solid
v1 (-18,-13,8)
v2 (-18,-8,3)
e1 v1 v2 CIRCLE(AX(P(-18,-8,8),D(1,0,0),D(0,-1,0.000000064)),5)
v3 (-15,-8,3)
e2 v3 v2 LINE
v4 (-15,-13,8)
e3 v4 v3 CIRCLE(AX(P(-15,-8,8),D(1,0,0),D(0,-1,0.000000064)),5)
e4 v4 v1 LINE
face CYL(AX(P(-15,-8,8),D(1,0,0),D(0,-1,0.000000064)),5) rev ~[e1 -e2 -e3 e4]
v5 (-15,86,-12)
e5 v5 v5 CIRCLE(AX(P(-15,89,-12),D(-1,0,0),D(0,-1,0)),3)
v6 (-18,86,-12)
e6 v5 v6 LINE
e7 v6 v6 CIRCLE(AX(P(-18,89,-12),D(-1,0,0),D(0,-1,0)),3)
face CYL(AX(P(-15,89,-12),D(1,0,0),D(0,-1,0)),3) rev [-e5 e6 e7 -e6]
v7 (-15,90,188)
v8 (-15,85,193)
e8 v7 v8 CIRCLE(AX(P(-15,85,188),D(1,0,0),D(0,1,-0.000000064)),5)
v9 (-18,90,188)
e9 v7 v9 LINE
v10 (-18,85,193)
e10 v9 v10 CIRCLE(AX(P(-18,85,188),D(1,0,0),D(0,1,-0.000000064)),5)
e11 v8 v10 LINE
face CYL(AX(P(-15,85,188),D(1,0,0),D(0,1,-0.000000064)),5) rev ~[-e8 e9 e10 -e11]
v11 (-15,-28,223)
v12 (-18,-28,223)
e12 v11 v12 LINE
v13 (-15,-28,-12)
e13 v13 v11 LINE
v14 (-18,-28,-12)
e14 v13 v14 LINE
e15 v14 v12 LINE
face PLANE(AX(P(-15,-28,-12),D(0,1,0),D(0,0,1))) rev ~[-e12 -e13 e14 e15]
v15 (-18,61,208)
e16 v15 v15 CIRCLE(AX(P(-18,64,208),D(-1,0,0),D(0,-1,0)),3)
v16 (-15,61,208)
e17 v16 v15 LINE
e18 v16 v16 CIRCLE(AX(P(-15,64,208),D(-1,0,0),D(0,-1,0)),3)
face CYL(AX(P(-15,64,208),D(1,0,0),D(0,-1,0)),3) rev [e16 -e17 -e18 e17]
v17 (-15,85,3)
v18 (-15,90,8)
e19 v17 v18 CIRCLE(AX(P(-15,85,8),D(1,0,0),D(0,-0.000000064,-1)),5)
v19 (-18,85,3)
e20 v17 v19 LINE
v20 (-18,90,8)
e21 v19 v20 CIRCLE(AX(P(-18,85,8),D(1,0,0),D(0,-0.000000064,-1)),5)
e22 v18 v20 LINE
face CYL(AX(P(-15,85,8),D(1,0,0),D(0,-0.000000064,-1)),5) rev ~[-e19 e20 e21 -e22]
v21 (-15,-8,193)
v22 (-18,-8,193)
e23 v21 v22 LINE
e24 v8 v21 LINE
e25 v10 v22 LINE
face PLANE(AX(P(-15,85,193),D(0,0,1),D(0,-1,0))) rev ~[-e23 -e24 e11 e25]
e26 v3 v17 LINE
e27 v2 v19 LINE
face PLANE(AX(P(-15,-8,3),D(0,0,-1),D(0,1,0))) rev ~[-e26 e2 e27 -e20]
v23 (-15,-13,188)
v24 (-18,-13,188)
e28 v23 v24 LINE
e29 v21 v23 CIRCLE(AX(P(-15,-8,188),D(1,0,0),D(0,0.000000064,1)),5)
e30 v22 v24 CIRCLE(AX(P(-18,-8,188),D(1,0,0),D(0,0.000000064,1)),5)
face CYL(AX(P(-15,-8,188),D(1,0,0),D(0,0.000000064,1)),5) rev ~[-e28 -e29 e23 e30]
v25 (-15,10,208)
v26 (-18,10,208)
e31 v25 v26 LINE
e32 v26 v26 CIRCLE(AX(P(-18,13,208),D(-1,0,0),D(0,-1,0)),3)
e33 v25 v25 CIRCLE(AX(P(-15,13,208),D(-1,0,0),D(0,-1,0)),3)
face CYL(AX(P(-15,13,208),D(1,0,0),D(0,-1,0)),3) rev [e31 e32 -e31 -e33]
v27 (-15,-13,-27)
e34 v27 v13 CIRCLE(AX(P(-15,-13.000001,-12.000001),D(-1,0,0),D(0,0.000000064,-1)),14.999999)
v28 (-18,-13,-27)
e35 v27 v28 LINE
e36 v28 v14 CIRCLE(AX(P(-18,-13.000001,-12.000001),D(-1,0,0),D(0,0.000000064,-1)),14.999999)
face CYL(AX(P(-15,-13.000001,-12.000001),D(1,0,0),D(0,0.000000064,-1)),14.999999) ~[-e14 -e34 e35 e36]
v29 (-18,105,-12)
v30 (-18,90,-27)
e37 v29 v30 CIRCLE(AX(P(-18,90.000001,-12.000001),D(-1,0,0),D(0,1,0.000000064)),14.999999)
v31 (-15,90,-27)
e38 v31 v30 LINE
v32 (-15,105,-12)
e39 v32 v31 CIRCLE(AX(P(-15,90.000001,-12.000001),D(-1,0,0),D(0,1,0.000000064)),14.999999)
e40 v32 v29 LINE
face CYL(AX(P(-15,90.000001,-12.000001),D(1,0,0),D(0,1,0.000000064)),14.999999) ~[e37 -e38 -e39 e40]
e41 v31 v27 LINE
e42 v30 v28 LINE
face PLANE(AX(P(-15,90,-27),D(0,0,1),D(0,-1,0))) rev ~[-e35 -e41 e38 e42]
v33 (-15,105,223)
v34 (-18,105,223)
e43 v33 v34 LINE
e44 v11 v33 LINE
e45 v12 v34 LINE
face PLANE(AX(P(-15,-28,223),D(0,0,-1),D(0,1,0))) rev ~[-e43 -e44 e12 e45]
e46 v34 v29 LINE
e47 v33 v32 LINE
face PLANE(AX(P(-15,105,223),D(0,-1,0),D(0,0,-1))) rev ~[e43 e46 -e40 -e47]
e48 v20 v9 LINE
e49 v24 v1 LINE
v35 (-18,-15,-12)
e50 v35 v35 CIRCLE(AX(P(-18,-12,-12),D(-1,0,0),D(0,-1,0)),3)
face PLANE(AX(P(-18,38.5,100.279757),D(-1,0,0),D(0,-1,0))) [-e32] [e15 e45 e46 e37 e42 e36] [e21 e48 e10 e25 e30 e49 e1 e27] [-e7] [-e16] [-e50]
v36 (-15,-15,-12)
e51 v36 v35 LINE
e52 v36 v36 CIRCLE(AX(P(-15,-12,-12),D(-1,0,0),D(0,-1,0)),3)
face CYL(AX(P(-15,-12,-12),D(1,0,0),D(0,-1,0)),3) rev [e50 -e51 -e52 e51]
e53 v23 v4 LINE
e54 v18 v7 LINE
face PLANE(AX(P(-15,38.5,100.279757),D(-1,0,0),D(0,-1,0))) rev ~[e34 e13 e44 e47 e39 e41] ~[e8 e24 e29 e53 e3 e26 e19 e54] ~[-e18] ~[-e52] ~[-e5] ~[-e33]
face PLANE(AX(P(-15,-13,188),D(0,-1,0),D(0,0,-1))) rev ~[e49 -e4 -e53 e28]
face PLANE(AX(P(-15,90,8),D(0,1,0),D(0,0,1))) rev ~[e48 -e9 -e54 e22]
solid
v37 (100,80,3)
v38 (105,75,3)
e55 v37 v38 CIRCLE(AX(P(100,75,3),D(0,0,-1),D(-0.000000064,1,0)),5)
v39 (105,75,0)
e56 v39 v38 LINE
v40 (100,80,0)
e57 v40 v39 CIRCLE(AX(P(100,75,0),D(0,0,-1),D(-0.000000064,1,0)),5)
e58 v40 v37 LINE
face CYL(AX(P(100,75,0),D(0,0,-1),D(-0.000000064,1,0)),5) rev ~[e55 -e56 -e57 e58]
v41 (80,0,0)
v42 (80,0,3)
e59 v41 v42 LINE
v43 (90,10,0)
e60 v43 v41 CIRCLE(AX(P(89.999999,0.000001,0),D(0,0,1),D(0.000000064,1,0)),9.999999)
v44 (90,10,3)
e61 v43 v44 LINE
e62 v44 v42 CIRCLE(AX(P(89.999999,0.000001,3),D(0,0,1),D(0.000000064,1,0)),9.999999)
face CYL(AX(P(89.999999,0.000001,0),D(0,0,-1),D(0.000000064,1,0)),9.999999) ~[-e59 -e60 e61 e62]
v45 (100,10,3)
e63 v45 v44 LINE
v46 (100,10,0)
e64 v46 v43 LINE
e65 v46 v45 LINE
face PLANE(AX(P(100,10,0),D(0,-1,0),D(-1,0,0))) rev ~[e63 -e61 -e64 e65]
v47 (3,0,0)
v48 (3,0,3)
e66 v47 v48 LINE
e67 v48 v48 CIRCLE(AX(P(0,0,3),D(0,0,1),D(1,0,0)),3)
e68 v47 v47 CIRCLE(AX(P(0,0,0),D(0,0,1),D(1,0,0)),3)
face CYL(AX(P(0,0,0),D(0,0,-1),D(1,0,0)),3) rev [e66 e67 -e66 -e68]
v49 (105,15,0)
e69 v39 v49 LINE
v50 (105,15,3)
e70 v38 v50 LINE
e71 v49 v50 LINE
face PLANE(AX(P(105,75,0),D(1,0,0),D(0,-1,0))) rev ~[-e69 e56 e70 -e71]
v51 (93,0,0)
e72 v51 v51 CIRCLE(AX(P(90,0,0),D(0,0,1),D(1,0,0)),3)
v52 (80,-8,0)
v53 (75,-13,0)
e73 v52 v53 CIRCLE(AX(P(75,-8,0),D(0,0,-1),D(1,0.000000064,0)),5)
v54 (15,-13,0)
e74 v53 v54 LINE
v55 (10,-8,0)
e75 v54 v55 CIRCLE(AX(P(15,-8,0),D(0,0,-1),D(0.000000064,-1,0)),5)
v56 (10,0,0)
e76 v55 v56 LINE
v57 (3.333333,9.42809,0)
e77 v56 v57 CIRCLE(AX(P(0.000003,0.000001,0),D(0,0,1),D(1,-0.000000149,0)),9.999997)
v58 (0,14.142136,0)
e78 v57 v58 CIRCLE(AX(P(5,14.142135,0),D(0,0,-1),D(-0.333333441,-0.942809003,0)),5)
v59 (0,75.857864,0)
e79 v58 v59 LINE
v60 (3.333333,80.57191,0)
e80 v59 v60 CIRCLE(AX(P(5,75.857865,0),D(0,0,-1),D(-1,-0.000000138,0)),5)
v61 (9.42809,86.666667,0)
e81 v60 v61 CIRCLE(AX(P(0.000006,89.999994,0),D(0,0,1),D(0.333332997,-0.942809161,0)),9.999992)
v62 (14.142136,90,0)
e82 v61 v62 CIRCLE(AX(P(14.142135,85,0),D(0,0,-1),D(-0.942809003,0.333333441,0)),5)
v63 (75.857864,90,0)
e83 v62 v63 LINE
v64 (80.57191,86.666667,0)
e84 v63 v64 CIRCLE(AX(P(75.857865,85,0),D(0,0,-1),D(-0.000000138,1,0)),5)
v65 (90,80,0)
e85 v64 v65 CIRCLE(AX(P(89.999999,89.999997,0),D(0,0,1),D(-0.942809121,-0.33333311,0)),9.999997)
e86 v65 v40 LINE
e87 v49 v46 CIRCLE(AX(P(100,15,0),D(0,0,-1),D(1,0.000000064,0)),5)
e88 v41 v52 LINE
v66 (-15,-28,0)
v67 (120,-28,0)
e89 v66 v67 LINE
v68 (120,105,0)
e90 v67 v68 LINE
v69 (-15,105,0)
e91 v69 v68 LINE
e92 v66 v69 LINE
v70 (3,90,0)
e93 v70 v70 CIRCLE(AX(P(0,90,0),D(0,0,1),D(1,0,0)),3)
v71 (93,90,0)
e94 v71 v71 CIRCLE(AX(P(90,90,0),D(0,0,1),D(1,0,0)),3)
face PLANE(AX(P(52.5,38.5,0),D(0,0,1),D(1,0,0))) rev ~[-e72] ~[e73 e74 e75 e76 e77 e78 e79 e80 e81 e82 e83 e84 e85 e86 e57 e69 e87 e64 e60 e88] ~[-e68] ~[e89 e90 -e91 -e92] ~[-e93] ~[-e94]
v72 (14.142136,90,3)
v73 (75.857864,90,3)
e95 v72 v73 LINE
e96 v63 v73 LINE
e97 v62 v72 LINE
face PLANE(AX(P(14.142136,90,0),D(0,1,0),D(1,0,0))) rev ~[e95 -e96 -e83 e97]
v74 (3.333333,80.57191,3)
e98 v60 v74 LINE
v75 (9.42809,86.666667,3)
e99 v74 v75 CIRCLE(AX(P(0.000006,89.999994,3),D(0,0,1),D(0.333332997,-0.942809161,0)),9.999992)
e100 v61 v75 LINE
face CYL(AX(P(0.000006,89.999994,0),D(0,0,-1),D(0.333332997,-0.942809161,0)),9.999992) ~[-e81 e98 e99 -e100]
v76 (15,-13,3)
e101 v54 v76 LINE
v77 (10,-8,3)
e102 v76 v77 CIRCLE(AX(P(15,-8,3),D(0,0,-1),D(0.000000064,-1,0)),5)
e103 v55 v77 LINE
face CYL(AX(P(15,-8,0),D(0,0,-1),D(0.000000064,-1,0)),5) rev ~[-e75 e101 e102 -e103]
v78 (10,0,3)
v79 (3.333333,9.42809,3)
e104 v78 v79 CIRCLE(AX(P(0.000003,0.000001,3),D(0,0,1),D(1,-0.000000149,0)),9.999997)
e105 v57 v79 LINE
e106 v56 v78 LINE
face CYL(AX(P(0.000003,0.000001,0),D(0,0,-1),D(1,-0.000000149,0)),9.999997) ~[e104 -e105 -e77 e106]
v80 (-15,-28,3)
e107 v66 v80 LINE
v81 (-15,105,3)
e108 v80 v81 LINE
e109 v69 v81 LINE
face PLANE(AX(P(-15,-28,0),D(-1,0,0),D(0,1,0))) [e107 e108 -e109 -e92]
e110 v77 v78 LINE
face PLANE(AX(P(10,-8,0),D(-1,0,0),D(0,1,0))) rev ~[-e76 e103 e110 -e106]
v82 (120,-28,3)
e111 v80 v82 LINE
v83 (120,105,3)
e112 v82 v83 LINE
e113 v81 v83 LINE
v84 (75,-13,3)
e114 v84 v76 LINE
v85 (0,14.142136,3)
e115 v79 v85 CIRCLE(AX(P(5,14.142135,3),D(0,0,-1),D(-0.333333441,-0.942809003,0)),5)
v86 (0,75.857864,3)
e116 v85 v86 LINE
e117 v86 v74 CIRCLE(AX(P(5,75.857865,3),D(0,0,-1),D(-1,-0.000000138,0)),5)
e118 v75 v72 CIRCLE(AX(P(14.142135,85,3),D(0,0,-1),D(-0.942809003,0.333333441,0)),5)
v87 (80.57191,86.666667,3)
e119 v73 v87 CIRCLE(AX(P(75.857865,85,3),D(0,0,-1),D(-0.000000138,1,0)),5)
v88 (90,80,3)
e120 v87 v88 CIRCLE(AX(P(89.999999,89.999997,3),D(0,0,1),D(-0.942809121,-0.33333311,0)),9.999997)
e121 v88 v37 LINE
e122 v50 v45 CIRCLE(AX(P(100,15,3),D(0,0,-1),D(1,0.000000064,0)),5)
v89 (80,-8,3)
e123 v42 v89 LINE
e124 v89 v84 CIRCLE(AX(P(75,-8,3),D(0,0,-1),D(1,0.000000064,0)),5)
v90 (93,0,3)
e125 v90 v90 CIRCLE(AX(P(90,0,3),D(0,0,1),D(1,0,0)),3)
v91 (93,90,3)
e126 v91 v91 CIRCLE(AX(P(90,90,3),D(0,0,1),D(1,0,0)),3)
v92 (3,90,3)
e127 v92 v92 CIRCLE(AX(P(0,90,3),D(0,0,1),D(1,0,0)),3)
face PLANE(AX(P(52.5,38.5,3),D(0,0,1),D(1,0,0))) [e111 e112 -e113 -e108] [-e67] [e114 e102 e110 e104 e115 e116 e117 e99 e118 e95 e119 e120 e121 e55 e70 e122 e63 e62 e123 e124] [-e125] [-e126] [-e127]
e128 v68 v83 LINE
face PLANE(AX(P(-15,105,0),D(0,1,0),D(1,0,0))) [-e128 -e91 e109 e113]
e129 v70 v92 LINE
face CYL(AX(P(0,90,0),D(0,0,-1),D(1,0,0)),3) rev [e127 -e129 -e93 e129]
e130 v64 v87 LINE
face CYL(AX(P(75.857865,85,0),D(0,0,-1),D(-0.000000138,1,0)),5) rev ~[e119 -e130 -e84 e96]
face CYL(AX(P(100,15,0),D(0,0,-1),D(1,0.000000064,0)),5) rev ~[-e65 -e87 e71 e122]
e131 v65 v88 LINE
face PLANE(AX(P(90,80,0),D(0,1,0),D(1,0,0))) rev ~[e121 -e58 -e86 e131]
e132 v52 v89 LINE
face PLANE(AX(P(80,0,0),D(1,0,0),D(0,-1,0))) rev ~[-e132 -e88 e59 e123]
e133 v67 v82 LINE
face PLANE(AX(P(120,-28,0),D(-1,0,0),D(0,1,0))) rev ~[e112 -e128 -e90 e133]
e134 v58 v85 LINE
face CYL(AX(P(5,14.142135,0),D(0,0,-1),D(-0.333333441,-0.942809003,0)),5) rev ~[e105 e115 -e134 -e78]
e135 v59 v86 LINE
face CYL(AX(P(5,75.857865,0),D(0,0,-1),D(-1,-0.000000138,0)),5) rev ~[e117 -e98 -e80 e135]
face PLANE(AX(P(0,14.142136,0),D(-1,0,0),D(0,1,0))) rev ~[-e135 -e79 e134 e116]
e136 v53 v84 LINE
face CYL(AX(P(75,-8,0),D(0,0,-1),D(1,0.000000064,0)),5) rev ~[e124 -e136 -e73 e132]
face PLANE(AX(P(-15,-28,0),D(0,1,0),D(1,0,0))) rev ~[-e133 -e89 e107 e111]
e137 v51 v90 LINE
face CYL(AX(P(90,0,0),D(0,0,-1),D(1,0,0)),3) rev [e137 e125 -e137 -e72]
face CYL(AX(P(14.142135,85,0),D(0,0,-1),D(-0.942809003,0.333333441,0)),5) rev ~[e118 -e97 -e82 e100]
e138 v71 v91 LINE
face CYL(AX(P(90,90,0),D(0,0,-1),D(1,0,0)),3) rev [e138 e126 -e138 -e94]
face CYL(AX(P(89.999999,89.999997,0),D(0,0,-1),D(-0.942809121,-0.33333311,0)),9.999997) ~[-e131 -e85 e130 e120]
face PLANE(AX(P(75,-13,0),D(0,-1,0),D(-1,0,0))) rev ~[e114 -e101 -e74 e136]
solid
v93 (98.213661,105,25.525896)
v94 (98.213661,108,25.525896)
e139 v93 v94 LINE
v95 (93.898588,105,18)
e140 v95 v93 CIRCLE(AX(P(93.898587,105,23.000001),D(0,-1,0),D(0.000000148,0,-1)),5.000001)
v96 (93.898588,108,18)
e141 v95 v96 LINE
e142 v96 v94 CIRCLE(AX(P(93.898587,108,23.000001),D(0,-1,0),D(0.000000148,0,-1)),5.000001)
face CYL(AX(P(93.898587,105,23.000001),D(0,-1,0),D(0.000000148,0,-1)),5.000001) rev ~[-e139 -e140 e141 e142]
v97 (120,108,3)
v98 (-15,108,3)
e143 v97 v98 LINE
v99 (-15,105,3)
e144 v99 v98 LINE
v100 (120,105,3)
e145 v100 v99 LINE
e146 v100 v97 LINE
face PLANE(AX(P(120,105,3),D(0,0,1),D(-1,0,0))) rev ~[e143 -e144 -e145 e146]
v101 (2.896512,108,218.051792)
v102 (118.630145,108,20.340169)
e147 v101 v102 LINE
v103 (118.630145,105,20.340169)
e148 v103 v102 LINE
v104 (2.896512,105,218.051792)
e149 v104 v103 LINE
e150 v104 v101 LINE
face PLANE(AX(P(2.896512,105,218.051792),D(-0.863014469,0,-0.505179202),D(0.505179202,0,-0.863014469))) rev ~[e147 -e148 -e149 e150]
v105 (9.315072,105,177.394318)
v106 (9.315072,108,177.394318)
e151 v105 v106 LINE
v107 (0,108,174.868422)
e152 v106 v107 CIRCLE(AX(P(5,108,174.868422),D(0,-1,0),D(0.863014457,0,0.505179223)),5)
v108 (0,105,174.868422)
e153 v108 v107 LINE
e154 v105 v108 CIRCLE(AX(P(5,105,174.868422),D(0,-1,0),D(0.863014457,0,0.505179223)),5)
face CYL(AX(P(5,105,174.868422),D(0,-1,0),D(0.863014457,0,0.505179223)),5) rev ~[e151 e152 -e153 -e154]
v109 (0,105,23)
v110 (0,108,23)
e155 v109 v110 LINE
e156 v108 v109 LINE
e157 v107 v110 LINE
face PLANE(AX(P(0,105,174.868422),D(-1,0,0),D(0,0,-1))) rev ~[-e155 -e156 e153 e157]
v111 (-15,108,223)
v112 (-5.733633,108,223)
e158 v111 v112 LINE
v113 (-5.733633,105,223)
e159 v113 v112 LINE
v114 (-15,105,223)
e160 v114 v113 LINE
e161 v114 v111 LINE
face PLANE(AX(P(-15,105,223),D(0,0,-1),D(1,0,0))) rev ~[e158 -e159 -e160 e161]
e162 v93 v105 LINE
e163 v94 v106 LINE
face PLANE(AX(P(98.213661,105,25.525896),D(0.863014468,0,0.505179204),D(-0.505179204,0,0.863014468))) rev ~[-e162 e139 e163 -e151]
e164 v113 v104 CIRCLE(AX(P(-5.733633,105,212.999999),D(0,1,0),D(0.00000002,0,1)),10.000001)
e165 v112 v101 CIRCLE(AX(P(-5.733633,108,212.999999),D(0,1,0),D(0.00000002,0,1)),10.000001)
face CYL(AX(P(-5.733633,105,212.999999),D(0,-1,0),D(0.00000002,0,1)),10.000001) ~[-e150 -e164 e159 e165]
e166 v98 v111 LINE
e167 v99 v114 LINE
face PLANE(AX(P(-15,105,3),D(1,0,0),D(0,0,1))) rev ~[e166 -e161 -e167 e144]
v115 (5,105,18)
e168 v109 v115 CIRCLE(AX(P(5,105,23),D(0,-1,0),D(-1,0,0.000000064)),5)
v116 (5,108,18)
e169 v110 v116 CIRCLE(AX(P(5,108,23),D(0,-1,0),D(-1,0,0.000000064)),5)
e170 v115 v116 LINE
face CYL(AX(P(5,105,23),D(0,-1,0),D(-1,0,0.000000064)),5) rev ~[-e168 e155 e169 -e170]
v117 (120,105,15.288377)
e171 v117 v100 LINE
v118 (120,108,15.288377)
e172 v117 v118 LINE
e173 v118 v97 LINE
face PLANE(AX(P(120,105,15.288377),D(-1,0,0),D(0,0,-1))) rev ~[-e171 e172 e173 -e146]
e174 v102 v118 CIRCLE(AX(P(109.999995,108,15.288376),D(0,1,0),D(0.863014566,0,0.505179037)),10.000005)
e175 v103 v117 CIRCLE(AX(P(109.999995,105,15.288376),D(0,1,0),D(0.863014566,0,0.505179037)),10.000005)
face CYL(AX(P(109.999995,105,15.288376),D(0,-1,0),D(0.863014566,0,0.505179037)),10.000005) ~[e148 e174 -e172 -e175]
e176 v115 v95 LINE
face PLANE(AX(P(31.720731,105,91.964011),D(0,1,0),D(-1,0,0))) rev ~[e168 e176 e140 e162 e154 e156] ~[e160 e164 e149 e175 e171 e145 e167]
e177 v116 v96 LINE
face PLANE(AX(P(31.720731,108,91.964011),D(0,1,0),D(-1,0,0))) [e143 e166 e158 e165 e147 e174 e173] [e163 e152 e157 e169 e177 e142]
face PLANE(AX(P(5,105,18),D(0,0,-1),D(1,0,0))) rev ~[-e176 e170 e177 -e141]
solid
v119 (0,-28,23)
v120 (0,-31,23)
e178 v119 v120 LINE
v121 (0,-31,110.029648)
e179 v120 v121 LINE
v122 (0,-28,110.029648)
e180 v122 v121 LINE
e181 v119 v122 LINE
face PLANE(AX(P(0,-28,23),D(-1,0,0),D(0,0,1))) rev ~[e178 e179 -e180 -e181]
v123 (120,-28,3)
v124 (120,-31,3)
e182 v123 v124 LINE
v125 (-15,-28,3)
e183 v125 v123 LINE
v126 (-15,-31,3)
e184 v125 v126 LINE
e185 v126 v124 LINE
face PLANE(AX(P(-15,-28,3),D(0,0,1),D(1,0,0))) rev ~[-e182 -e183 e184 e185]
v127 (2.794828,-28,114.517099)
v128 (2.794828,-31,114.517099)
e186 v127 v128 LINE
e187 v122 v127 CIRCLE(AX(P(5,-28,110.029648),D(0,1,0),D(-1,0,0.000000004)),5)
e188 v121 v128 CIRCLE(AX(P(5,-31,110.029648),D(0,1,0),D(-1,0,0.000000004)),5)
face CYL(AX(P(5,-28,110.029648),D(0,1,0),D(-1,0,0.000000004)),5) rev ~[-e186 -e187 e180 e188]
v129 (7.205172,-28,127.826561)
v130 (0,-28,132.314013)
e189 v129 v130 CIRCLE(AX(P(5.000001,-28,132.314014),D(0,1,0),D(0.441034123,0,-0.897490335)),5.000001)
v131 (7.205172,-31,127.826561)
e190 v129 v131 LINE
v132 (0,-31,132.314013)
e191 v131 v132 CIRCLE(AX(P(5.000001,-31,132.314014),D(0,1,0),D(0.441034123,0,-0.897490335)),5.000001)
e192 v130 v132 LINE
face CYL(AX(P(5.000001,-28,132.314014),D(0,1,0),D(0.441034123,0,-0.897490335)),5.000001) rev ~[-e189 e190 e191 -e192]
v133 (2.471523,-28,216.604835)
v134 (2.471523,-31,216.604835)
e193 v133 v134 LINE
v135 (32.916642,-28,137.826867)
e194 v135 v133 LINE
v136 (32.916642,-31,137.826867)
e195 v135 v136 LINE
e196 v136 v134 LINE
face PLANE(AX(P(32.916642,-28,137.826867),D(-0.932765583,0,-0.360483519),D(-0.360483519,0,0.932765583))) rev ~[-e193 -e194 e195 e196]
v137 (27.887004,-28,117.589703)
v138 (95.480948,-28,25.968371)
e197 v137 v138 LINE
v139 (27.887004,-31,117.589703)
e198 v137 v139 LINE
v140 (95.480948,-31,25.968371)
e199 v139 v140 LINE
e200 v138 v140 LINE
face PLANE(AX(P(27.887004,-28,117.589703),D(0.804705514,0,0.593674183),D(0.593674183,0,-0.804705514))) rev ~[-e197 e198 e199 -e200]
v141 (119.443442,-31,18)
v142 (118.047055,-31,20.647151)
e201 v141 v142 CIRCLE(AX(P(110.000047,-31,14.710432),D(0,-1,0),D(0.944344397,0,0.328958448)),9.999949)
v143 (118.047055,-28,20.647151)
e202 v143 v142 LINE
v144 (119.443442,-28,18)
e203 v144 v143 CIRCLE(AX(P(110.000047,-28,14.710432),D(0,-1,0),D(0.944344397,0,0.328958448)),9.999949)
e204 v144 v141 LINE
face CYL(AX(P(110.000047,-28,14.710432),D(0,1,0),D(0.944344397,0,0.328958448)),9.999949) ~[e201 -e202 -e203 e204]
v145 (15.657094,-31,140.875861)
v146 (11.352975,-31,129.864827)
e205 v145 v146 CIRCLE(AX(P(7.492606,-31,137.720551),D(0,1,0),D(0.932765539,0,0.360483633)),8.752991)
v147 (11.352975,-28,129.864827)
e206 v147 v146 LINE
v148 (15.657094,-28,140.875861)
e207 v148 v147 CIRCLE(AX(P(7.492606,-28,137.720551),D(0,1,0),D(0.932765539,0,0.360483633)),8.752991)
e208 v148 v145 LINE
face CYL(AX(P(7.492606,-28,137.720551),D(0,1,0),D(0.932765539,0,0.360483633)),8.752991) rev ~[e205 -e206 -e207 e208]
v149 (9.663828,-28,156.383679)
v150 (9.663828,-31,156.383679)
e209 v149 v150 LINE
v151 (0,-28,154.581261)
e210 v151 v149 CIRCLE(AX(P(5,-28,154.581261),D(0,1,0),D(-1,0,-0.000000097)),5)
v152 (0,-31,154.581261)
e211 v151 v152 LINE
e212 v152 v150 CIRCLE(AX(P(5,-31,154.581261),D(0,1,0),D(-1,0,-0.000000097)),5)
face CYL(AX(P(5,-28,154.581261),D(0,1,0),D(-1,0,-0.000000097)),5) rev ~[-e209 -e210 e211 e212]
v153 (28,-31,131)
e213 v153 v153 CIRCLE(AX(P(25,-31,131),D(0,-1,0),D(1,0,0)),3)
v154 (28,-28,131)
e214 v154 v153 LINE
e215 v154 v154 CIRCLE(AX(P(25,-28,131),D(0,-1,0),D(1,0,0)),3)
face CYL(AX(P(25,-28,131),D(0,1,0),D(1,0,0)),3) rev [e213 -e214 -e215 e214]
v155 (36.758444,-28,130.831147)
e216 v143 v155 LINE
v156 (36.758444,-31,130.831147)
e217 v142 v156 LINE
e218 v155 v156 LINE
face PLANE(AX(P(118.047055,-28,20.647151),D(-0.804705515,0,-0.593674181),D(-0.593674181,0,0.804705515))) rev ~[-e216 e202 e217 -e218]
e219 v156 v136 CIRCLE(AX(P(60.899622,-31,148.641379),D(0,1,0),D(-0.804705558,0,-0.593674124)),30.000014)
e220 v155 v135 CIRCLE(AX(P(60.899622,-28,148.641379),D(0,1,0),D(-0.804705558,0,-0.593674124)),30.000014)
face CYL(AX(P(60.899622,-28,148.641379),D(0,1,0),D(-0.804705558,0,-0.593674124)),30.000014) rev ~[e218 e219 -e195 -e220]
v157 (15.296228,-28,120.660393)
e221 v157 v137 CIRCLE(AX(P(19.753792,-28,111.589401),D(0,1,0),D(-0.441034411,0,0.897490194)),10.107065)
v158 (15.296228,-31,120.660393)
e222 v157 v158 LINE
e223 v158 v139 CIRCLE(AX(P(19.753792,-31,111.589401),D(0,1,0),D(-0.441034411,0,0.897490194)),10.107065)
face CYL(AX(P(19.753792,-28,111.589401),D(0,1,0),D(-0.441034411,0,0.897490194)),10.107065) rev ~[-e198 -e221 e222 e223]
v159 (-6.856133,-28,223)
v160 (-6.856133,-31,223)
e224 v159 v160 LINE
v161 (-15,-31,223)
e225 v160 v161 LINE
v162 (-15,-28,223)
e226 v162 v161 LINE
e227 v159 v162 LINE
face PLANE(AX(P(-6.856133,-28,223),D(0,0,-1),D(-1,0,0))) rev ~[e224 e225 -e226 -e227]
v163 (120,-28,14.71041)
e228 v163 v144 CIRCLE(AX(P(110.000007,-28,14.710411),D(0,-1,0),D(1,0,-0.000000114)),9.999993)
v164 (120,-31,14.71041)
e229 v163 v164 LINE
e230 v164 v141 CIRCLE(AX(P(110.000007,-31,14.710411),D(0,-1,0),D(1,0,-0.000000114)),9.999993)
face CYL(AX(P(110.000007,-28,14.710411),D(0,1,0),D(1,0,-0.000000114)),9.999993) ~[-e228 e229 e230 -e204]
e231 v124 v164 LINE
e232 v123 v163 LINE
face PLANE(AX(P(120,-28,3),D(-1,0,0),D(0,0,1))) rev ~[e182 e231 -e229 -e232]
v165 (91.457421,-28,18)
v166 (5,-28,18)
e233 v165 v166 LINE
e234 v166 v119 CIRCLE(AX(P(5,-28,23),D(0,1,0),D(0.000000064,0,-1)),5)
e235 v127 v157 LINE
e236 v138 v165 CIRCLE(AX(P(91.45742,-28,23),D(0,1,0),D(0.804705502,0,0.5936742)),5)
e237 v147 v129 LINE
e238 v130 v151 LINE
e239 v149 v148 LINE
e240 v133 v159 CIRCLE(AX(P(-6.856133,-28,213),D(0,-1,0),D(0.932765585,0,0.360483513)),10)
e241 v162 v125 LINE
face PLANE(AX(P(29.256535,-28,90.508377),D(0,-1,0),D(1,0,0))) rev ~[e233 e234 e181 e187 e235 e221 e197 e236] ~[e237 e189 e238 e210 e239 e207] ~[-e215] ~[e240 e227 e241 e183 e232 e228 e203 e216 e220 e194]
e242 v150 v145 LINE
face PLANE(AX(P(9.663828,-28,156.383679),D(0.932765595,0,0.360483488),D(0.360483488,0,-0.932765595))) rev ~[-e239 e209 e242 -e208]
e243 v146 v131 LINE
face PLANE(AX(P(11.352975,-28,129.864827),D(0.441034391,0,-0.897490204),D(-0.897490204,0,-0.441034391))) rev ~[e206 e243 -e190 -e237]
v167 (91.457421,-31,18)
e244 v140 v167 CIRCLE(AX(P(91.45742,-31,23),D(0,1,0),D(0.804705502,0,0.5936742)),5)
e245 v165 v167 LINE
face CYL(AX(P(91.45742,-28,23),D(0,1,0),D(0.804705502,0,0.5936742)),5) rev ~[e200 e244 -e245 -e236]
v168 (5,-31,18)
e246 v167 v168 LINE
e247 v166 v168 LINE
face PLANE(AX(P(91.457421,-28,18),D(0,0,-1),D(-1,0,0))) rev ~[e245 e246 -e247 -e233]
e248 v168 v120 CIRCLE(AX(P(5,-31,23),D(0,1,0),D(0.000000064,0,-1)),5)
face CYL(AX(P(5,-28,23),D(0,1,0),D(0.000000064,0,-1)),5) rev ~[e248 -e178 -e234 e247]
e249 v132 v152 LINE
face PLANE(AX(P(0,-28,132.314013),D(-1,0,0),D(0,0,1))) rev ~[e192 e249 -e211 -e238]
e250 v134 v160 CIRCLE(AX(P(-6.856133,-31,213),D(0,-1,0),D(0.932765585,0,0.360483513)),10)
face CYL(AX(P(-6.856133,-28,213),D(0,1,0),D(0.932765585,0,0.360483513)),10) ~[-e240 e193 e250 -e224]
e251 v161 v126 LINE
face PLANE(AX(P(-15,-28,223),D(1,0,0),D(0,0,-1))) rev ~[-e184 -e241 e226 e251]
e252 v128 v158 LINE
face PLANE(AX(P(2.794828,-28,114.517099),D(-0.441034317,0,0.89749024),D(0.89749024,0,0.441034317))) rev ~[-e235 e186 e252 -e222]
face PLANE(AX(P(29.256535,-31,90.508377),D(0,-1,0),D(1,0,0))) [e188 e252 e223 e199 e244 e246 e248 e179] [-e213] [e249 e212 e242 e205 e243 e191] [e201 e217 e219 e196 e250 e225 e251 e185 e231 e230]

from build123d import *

# Parameters (mm, degrees)
F0_W     = 135
F0_H     = 133
F0_R     = 3
F1_DEPTH = 3
F2_R     = 3
F3_DEPTH = 3
F5_DEPTH = 3
F6_R     = 3
F7_DEPTH = 3


with BuildPart() as f1:
    # F0 (on Top) → F1 (new body)
    with BuildSketch(Plane.XY):
        with Locations((52.5, 38.5)):
            Rectangle(F0_W, F0_H)
        Circle(F0_R, mode=Mode.SUBTRACT)
        with Locations((90, 0)):
            Circle(F0_R, mode=Mode.SUBTRACT)
        with Locations((0, 90)):
            Circle(F0_R, mode=Mode.SUBTRACT)
        with BuildLine():
            ThreePointArc((0, 75.857864), (0.917517, 78.744616), (3.333333, 80.57191))
            ThreePointArc((3.333333, 80.57191), (7.071068, 82.928932), (9.42809, 86.666667))
            ThreePointArc((9.42809, 86.666667), (11.255384, 89.082483), (14.142136, 90))
            Line((14.142136, 90), (75.857864, 90))
            ThreePointArc((75.857864, 90), (78.744616, 89.082483), (80.57191, 86.666667))
            ThreePointArc((80.57191, 86.666667), (84.226497, 81.835034), (90, 80))
            Line((90, 80), (100, 80))
            ThreePointArc((100, 80), (103.535534, 78.535534), (105, 75))
            Line((105, 75), (105, 15))
            ThreePointArc((105, 15), (103.535534, 11.464466), (100, 10))
            Line((100, 10), (90, 10))
            ThreePointArc((90, 10), (82.928932, 7.071068), (80, 0))
            Line((80, 0), (80, -8))
            ThreePointArc((80, -8), (78.535534, -11.535534), (75, -13))
            Line((75, -13), (15, -13))
            ThreePointArc((15, -13), (11.464466, -11.535534), (10, -8))
            Line((10, -8), (10, 0))
            ThreePointArc((10, 0), (8.164966, 5.773503), (3.333333, 9.42809))
            ThreePointArc((3.333333, 9.42809), (0.917517, 11.255384), (0, 14.142136))
            Line((0, 14.142136), (0, 75.857864))
        make_face(mode=Mode.SUBTRACT)
        with Locations((90, 90)):
            Circle(F0_R, mode=Mode.SUBTRACT)
    extrude(amount=F1_DEPTH)


with BuildPart() as f3:
    # F2 (on face) → F3 (new body)
    with BuildSketch(Plane(origin=(-15, 0, 0), x_dir=(0, -1, 0), z_dir=(-1, 0, 0))):
        with BuildLine():
            Line((28, 223), (-105, 223))
            Line((-105, 223), (-105, 3))
            Line((-105, 3), (-105, -12))
            ThreePointArc((-105, -12), (-100.606602, -22.606602), (-90, -27))
            Line((-90, -27), (13, -27))
            ThreePointArc((13, -27), (23.606602, -22.606602), (28, -12))
            Line((28, -12), (28, 3))
            Line((28, 3), (28, 223))
        make_face()
        with Locations((-89, -12)):
            Circle(F2_R, mode=Mode.SUBTRACT)
        with Locations((12, -12)):
            Circle(F2_R, mode=Mode.SUBTRACT)
        with BuildLine():
            Line((8, 3), (-85, 3))
            ThreePointArc((-85, 3), (-88.535534, 4.464466), (-90, 8))
            Line((-90, 8), (-90, 188))
            ThreePointArc((-90, 188), (-88.535534, 191.535534), (-85, 193))
            Line((-85, 193), (8, 193))
            ThreePointArc((8, 193), (11.535534, 191.535534), (13, 188))
            Line((13, 188), (13, 8))
            ThreePointArc((13, 8), (11.535534, 4.464466), (8, 3))
        make_face(mode=Mode.SUBTRACT)
        with Locations((-64, 208)):
            Circle(F2_R, mode=Mode.SUBTRACT)
        with Locations((-13, 208)):
            Circle(F2_R, mode=Mode.SUBTRACT)
    extrude(amount=F3_DEPTH)


with BuildPart() as f5:
    # F4 (on face) → F5 (new body)
    with BuildSketch(Plane(origin=(0, 105, 0), x_dir=(-1, 0, 0), z_dir=(0, 1, 0))):
        with BuildLine():
            Line((-120, 3), (15, 3))
            Line((15, 3), (15, 223))
            Line((15, 223), (5.733633, 223))
            ThreePointArc((5.733633, 223), (0.759596, 221.675192), (-2.896512, 218.051792))
            Line((-2.896512, 218.051792), (-118.630145, 20.340169))
            ThreePointArc((-118.630145, 20.340169), (-119.651462, 17.90549), (-120, 15.288377))
            Line((-120, 15.288377), (-120, 3))
        make_face()
        with BuildLine():
            Line((-5, 18), (-93.898588, 18))
            ThreePointArc((-93.898588, 18), (-98.236184, 20.512982), (-98.213661, 25.525896))
            Line((-98.213661, 25.525896), (-9.315072, 177.394318))
            ThreePointArc((-9.315072, 177.394318), (-3.691444, 179.694153), (0, 174.868422))
            Line((0, 174.868422), (0, 23))
            ThreePointArc((0, 23), (-1.464466, 19.464466), (-5, 18))
        make_face(mode=Mode.SUBTRACT)
    extrude(amount=F5_DEPTH)


with BuildPart() as f7:
    # F6 (on face) → F7 (new body)
    with BuildSketch(Plane.XZ.offset(28)):
        with BuildLine():
            Line((-15, 223), (-15, 3))
            Line((-15, 3), (120, 3))
            Line((120, 3), (120, 14.71041))
            ThreePointArc((120, 14.71041), (119.859879, 16.378579), (119.443442, 18))
            ThreePointArc((119.443442, 18), (118.844842, 19.376112), (118.047055, 20.647151))
            Line((118.047055, 20.647151), (36.758444, 130.831147))
            ThreePointArc((36.758444, 130.831147), (34.603862, 134.200678), (32.916642, 137.826867))
            Line((32.916642, 137.826867), (2.471523, 216.604835))
            ThreePointArc((2.471523, 216.604835), (-1.201416, 221.247677), (-6.856133, 223))
            Line((-6.856133, 223), (-15, 223))
        make_face()
        with BuildLine():
            ThreePointArc((0, 110.029648), (0.755836, 112.672955), (2.794828, 114.517099))
            Line((2.794828, 114.517099), (15.296228, 120.660393))
            ThreePointArc((15.296228, 120.660393), (22.148553, 121.408662), (27.887004, 117.589703))
            Line((27.887004, 117.589703), (95.480948, 25.968371))
            ThreePointArc((95.480948, 25.968371), (95.920707, 20.74632), (91.457421, 18))
            Line((91.457421, 18), (5, 18))
            ThreePointArc((5, 18), (1.464466, 19.464466), (0, 23))
            Line((0, 23), (0, 110.029648))
        make_face(mode=Mode.SUBTRACT)
        with BuildLine():
            Line((11.352975, 129.864827), (7.205172, 127.826561))
            ThreePointArc((7.205172, 127.826561), (2.356693, 128.069849), (0, 132.314013))
            Line((0, 132.314013), (0, 154.581261))
            ThreePointArc((0, 154.581261), (4.08325, 159.4965), (9.663828, 156.383679))
            Line((9.663828, 156.383679), (15.657094, 140.875861))
            ThreePointArc((15.657094, 140.875861), (15.644907, 134.533886), (11.352975, 129.864827))
        make_face(mode=Mode.SUBTRACT)
        with Locations((25, 131)):
            Circle(F6_R, mode=Mode.SUBTRACT)
    extrude(amount=F7_DEPTH)


solid = Compound([f1.part, f3.part, f5.part, f7.part])
